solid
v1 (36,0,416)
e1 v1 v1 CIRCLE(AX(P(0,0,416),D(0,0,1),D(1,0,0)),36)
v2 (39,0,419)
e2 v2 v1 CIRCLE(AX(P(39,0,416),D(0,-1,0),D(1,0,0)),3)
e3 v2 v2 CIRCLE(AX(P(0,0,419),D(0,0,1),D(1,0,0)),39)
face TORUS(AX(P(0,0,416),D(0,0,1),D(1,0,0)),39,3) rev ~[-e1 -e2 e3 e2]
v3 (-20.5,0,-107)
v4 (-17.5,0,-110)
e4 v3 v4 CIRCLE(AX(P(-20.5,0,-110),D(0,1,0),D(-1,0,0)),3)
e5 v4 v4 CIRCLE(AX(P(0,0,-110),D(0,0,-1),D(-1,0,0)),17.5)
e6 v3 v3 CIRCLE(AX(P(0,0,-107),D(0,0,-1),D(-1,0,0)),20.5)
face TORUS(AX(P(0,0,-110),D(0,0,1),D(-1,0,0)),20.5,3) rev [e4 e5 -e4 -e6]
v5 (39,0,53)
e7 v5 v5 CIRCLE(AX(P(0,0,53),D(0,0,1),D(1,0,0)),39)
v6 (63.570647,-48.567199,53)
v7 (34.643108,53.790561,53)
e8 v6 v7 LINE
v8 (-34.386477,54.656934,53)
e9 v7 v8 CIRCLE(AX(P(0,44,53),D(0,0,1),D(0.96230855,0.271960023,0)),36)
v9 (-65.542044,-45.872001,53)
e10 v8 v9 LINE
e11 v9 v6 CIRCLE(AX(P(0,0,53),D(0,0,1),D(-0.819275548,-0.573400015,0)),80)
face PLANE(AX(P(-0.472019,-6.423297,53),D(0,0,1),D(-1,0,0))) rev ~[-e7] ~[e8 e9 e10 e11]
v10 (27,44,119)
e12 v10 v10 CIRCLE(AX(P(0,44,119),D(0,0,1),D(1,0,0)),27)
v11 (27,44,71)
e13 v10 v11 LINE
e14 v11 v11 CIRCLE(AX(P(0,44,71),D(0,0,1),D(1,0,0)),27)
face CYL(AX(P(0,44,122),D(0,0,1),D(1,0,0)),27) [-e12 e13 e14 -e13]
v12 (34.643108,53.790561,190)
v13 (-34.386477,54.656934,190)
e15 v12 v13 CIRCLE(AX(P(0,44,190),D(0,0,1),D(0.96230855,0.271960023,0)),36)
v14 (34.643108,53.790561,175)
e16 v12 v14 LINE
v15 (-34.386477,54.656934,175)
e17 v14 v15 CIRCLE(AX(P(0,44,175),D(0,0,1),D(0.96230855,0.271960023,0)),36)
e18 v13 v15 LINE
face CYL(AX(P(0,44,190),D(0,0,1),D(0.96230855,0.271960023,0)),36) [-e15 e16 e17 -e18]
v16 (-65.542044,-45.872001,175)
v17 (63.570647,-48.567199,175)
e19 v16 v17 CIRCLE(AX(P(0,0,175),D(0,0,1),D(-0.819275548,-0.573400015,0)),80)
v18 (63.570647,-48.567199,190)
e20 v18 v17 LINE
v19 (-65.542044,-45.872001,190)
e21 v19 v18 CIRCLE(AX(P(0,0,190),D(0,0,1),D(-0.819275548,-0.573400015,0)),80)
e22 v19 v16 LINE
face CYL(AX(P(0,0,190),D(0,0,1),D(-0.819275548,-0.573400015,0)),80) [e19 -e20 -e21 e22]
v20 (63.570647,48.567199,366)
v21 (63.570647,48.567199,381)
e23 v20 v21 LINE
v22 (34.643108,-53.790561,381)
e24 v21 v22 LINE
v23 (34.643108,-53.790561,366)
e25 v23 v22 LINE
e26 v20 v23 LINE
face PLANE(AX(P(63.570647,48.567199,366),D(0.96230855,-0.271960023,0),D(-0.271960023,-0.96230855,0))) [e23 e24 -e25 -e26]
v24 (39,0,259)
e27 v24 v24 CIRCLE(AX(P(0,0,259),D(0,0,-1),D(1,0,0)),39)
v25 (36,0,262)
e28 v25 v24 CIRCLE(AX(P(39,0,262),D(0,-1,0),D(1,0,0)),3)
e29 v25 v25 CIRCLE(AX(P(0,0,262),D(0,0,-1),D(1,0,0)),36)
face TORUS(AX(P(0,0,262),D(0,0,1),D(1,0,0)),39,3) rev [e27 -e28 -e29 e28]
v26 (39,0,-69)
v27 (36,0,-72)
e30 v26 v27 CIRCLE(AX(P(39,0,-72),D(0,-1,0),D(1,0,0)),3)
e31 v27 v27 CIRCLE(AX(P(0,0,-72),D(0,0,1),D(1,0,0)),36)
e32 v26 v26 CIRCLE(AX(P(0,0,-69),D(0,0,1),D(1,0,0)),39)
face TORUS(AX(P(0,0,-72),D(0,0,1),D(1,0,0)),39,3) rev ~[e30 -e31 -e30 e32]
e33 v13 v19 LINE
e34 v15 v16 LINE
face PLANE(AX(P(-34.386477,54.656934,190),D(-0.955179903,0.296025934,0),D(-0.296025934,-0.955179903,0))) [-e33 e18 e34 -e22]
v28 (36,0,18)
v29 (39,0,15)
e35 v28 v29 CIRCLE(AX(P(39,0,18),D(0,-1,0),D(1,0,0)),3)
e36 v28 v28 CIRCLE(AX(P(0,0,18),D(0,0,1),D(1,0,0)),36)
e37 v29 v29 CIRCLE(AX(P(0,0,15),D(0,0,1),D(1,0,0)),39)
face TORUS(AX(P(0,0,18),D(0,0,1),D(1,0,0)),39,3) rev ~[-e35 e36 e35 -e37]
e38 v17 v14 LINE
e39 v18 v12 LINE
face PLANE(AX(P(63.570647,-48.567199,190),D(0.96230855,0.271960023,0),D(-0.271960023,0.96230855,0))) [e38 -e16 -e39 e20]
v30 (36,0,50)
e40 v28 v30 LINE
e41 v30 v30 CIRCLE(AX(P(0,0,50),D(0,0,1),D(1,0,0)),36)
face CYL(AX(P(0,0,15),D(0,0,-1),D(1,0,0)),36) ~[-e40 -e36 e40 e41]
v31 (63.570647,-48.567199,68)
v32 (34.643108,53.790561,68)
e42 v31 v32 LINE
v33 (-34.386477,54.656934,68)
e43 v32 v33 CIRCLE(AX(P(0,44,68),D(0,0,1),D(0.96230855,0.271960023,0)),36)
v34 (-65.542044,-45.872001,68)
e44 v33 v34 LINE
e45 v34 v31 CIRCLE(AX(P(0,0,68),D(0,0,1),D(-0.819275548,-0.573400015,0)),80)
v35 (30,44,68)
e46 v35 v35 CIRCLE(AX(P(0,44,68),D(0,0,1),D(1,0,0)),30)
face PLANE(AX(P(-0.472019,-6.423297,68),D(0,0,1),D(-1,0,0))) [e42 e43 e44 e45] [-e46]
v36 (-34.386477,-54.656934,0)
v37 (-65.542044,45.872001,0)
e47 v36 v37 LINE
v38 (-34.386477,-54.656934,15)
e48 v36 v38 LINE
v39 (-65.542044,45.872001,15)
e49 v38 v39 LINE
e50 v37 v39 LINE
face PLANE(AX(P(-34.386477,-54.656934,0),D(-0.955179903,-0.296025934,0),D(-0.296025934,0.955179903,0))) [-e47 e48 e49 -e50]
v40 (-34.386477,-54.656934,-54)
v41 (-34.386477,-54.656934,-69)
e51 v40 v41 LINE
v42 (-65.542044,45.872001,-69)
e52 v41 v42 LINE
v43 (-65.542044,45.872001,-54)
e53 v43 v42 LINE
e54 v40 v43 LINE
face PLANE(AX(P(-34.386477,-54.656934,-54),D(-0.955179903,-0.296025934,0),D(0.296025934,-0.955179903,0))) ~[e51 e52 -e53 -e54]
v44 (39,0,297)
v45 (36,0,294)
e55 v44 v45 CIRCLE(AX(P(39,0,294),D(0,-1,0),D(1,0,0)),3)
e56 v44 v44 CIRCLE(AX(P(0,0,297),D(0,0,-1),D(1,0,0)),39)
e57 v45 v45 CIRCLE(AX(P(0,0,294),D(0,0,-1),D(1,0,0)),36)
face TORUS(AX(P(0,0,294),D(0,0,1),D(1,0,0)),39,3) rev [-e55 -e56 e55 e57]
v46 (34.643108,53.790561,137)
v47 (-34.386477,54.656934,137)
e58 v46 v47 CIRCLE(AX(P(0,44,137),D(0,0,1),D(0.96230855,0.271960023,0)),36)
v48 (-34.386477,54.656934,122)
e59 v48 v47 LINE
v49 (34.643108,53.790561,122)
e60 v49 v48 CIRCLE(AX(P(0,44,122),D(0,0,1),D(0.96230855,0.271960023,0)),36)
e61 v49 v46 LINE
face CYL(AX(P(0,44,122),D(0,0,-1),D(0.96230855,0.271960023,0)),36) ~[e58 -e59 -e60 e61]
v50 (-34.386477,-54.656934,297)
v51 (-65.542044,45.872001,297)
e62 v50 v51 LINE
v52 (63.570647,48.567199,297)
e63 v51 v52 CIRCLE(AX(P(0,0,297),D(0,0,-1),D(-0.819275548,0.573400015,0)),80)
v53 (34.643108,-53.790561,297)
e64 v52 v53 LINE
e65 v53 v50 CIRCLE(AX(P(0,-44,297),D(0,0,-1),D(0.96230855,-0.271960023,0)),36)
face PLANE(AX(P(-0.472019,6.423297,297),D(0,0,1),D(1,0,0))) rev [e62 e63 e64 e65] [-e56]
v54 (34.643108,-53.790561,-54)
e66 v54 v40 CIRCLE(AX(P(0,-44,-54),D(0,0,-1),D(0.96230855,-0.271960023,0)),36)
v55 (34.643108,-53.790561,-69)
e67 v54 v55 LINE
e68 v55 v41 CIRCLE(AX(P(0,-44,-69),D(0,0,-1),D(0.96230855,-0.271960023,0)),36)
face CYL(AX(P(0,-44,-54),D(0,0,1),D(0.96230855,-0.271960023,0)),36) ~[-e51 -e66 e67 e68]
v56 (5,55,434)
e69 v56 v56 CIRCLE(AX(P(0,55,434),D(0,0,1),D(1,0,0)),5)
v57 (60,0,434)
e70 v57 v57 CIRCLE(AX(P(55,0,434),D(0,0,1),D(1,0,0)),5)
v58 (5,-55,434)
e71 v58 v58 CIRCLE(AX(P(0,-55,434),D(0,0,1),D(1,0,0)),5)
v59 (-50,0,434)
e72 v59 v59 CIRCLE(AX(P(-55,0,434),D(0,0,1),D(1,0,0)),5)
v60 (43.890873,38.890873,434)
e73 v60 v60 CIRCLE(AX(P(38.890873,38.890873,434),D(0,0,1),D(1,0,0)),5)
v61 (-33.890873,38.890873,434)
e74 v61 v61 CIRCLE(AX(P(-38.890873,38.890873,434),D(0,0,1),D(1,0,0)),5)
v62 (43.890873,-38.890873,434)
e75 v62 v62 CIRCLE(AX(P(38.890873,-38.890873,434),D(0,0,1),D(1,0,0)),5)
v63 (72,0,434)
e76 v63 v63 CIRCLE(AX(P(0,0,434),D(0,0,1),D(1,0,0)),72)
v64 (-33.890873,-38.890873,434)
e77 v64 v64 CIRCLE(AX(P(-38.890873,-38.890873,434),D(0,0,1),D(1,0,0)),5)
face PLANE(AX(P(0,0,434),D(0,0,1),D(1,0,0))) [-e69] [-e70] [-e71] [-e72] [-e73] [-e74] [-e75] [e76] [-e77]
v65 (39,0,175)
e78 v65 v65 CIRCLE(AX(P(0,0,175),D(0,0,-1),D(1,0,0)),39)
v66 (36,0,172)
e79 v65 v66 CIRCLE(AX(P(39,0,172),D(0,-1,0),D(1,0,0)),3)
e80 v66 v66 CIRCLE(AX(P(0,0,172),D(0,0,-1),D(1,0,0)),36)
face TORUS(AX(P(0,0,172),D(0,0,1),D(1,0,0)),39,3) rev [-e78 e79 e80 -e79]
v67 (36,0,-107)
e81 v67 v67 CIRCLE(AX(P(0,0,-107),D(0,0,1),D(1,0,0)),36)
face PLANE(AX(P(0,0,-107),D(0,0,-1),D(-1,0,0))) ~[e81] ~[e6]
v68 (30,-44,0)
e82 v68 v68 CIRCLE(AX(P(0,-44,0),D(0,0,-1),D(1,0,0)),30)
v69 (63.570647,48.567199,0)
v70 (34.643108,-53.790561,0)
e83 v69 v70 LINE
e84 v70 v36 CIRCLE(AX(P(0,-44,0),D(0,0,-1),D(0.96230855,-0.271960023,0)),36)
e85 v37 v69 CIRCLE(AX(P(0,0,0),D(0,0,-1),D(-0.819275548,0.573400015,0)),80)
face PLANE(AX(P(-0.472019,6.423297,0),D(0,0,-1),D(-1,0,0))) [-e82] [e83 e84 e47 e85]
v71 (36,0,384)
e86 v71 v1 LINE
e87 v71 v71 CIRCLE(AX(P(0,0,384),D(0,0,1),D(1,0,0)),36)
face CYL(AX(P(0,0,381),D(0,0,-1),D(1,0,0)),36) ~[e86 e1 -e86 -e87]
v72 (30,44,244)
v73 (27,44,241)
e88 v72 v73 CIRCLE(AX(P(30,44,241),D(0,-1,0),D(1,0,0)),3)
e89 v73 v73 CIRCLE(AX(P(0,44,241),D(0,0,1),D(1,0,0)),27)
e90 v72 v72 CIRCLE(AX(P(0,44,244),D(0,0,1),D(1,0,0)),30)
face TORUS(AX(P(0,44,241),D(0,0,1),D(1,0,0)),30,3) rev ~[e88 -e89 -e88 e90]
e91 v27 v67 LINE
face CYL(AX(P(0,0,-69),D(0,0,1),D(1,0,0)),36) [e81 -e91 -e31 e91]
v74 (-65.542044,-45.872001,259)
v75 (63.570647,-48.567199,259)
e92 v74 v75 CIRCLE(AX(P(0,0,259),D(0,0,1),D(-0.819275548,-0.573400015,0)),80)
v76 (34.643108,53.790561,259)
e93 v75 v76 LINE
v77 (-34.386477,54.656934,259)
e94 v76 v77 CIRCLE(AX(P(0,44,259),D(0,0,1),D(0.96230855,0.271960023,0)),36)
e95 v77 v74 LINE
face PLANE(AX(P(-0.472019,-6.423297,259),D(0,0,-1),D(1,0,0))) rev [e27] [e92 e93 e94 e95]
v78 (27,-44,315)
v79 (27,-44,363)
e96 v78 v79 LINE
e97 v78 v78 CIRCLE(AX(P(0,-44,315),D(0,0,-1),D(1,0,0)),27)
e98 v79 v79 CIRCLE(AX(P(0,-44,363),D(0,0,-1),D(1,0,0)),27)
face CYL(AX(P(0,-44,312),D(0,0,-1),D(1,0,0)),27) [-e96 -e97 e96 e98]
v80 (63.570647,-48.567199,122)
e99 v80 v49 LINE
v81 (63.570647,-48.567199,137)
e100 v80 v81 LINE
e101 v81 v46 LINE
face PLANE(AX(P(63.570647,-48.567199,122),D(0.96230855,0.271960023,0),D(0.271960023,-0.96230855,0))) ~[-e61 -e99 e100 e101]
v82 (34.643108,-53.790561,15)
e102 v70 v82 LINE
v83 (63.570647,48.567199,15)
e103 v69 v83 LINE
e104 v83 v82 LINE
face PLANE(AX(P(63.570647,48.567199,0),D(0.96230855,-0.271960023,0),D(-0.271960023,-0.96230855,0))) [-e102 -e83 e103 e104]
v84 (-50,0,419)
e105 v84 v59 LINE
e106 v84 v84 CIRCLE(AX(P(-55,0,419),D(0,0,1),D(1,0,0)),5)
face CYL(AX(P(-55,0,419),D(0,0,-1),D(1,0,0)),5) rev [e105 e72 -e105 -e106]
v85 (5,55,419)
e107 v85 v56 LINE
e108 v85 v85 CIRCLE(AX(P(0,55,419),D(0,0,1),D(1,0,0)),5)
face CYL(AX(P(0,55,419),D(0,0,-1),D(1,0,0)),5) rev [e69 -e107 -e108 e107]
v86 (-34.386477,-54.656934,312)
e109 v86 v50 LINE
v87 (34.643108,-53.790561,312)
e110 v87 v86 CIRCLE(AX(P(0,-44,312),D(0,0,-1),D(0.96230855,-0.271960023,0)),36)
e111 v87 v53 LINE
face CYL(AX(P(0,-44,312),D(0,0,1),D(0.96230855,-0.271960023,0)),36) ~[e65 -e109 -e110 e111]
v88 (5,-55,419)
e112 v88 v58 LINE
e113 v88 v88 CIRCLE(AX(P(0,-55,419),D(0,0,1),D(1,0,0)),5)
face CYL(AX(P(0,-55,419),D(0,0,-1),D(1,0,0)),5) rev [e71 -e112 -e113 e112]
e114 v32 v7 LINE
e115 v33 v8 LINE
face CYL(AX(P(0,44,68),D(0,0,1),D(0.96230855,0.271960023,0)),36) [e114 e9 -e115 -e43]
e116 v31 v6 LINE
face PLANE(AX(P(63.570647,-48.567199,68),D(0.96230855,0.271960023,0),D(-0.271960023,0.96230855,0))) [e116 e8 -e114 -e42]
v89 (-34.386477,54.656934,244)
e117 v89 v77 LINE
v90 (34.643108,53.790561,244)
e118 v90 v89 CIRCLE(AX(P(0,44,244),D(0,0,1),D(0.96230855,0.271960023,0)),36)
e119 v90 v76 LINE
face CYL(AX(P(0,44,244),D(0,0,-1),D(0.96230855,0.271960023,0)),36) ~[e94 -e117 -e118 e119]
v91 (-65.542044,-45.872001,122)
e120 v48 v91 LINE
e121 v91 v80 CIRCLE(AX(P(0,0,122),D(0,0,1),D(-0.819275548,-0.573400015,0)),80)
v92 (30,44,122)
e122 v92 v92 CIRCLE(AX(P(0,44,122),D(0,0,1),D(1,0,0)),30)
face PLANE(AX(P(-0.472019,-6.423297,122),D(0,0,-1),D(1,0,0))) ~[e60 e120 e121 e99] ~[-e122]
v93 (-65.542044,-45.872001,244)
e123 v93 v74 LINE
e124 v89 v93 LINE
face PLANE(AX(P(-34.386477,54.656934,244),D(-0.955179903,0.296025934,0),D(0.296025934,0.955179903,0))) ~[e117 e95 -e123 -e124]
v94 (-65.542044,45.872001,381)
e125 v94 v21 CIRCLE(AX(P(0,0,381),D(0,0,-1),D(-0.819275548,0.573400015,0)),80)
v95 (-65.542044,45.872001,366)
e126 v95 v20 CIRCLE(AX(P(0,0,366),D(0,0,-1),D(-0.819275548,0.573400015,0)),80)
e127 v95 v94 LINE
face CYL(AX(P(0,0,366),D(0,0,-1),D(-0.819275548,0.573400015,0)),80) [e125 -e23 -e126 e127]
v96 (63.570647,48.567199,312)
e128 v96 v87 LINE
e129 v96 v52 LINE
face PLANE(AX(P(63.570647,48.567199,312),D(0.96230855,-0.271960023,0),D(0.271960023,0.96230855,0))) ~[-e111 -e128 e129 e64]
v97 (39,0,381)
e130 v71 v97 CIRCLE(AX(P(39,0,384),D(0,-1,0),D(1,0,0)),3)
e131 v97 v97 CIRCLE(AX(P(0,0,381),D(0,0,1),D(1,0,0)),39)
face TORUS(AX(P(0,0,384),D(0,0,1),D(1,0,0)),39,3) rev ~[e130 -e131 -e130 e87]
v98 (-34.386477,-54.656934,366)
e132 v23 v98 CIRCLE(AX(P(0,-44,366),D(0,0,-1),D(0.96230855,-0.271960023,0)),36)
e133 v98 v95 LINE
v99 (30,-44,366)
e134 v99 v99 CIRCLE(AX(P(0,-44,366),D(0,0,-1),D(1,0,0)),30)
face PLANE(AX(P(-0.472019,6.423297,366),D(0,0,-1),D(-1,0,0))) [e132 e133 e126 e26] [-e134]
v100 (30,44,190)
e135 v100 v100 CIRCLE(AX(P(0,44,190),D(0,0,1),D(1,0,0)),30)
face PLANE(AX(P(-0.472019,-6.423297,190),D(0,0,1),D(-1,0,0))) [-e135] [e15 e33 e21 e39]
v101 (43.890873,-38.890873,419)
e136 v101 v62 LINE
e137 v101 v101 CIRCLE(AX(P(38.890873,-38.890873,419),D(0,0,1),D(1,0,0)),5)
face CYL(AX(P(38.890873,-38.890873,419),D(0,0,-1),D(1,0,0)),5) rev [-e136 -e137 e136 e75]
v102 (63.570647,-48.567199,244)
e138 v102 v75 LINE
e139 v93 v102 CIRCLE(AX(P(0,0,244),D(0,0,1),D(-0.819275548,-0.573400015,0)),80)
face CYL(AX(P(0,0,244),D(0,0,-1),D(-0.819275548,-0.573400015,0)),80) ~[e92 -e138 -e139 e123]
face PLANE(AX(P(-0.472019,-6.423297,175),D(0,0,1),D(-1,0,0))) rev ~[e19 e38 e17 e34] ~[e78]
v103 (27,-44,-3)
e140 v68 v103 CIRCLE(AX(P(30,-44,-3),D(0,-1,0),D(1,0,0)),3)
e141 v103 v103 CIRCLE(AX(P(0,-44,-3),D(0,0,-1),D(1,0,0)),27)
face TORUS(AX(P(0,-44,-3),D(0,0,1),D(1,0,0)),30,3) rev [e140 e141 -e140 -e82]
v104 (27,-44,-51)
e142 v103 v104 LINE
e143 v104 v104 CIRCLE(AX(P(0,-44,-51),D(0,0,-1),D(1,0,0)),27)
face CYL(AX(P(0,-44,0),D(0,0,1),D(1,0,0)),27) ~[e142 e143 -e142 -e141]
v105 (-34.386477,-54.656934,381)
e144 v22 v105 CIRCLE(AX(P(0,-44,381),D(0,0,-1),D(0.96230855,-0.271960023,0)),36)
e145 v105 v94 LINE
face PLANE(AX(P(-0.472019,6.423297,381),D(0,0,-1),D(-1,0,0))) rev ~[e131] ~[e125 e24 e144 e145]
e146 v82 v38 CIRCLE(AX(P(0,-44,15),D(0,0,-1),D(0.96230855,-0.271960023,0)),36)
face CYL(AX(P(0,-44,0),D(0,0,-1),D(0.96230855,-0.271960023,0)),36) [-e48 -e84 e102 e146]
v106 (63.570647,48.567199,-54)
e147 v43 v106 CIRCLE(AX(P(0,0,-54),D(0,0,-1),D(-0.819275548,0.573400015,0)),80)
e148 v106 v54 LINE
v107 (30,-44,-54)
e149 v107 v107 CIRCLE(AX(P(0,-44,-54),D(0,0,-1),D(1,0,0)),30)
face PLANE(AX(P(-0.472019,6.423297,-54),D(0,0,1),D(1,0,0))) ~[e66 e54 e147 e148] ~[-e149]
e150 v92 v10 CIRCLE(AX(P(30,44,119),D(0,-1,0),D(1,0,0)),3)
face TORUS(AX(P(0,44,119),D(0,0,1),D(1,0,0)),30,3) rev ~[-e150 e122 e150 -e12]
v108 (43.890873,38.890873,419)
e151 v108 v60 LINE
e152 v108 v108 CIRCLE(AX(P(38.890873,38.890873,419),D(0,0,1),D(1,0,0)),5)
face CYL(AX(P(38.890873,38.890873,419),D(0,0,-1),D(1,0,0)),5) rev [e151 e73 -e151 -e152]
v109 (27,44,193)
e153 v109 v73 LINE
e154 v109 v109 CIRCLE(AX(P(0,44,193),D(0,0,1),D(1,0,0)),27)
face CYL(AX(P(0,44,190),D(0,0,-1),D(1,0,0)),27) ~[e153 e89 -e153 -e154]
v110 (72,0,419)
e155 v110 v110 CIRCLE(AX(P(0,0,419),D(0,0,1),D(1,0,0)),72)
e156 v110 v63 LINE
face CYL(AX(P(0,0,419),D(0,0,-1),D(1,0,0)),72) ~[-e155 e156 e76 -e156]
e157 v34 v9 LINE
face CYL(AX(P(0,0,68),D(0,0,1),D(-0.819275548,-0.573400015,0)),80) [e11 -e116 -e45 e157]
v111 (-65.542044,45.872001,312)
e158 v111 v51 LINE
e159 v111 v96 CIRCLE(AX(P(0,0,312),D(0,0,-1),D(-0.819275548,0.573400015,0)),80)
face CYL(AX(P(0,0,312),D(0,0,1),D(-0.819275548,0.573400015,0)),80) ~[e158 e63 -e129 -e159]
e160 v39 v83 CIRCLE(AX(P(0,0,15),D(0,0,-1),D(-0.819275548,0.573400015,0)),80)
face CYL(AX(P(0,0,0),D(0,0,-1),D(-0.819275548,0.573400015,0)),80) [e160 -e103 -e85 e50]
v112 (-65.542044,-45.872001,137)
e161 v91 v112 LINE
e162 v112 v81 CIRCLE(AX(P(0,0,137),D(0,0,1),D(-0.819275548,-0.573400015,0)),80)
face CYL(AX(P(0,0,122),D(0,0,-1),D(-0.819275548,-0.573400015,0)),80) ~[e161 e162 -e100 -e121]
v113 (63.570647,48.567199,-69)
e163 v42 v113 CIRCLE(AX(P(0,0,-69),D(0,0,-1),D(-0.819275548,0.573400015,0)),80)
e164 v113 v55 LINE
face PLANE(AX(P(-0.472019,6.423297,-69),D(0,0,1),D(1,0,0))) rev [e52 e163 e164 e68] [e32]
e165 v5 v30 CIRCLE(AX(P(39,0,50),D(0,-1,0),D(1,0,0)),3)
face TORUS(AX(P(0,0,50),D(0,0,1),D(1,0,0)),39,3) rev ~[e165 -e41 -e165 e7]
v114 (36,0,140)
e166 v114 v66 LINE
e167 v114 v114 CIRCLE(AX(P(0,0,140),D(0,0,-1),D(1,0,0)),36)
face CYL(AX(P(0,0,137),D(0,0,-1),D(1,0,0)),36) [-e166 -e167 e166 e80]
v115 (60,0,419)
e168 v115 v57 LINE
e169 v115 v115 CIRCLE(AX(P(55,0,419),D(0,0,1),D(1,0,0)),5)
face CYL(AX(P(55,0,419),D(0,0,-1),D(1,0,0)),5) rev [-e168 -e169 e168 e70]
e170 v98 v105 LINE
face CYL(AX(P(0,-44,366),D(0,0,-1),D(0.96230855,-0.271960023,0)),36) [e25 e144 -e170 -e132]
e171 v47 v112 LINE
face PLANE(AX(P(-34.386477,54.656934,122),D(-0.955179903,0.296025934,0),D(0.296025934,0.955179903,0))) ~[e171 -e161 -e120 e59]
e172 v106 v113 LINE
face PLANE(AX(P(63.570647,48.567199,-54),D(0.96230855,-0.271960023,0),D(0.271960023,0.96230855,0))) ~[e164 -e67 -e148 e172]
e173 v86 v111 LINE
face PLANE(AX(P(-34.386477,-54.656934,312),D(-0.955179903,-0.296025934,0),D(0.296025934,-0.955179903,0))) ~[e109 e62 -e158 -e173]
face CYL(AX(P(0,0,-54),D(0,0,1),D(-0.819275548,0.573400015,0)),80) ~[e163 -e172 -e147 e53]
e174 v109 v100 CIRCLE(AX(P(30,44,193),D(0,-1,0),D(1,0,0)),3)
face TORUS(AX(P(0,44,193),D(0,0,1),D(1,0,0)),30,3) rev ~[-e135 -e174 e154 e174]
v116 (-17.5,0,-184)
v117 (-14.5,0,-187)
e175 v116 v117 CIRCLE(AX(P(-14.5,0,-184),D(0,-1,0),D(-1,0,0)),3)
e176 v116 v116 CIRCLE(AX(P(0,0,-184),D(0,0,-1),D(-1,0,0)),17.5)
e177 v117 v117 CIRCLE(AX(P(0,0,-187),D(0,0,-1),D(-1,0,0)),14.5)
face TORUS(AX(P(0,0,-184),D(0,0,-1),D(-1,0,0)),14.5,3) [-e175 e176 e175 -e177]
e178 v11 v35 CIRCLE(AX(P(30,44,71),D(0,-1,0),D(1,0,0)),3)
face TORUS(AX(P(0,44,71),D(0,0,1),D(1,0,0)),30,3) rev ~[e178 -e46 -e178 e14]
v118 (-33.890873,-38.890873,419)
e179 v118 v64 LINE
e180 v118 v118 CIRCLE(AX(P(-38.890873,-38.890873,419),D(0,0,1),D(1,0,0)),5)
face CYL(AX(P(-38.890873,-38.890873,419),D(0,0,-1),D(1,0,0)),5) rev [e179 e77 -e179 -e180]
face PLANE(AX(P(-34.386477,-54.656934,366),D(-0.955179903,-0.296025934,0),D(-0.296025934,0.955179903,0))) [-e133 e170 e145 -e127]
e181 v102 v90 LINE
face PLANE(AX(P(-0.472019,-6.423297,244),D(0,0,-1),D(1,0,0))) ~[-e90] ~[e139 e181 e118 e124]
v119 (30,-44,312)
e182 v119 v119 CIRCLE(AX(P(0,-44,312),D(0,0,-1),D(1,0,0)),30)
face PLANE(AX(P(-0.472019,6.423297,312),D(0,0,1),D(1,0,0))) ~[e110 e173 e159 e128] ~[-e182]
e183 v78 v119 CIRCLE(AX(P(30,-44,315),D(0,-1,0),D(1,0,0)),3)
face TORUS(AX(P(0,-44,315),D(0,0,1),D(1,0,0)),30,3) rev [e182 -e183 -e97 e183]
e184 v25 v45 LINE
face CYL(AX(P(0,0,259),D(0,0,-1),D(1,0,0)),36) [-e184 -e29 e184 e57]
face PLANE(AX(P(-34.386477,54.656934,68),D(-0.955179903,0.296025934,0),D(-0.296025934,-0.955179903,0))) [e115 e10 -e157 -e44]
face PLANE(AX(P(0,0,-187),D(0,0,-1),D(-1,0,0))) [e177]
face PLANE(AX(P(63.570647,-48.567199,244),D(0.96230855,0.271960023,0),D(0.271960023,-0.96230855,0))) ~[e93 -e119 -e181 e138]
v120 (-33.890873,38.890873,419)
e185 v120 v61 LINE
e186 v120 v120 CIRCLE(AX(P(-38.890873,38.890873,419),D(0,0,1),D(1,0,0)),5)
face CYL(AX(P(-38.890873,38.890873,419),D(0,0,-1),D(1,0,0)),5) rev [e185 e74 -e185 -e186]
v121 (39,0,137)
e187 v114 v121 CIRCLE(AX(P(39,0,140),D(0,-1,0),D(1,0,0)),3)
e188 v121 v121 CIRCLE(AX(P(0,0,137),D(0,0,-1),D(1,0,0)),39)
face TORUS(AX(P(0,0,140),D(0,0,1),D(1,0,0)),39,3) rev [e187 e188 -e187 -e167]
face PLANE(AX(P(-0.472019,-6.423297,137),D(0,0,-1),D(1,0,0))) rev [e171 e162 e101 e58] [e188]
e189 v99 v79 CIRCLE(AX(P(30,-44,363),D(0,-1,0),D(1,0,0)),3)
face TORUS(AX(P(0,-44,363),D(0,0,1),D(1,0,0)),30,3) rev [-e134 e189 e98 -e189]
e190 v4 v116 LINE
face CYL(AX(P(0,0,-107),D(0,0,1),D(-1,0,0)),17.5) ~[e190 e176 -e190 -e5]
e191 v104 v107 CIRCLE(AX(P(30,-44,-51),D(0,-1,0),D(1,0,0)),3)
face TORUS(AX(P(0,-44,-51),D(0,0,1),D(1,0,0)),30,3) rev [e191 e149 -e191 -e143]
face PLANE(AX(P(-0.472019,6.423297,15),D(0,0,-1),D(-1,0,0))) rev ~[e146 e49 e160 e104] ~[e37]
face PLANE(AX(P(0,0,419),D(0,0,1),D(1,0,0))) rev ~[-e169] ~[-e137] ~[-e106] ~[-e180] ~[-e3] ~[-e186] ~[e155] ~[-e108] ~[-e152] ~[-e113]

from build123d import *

# Parameters (mm, degrees)
Y_KSEKLIK_EKSTR_ZYON1_DEPTH = 15
IZIM2_R                     = 27
Y_KSEKLIK_EKSTR_ZYON2_DEPTH = 54
IZIM3_R                     = 36
Y_KSEKLIK_EKSTR_ZYON3_DEPTH = 38
G_VDE_TA_KOPYALA1_ANGLE     = 180
IZIM4_R                     = 17.5
Y_KSEKLIK_EKSTR_ZYON4_DEPTH = 80
IZIM5_R                     = 72
IZIM5_R_2                   = 5
Y_KSEKLIK_EKSTR_ZYON5_DEPTH = 15
RADYUS1_R                   = 3


with BuildPart() as part:
    # Çizim1 → Yükseklik-Ekstrüzyon1 (new body)
    with BuildSketch(Plane.XY):
        with BuildLine():
            Line((-34.3864765, -54.656933609), (-65.542043825, 45.872001169))
            ThreePointArc((-65.542043825, 45.872001169), (-1.669617793, 79.982575455), (63.570647333, 48.567198783))
            Line((63.570647333, 48.567198783), (34.643107812, -53.790560816))
            ThreePointArc((34.643107812, -53.790560816), (0.451791281, -79.997164953), (-34.3864765, -54.656933609))
        make_face()
    y_kseklik_ekstr_zyon1 = extrude(amount=Y_KSEKLIK_EKSTR_ZYON1_DEPTH)

    # Çizim2 → Yükseklik-Ekstrüzyon2 (add)
    with BuildSketch(Plane(origin=(0, 0, 0), x_dir=(-1, 0, 0), z_dir=(0, 0, -1))):
        with Locations((0, -44)):
            Circle(IZIM2_R)
    extrude(amount=Y_KSEKLIK_EKSTR_ZYON2_DEPTH)

    # Çizim3 → Yükseklik-Ekstrüzyon3 (add)
    with BuildSketch(Plane.XY.offset(15)):
        Circle(IZIM3_R)
    y_kseklik_ekstr_zyon3 = extrude(amount=Y_KSEKLIK_EKSTR_ZYON3_DEPTH)

    # Aynalama1: Yükseklik-Ekstrüzyon1, Yükseklik-Ekstrüzyon3 across plane
    add(y_kseklik_ekstr_zyon1.mirror(Plane(origin=(0, 0, -27), x_dir=(1, 0, 0), z_dir=(0, 0, -1))))
    add(y_kseklik_ekstr_zyon3.mirror(Plane(origin=(0, 0, -27), x_dir=(1, 0, 0), z_dir=(0, 0, -1))))


with BuildPart() as body_2:
    # Aynalama4: mirrored copy
    add(part.part.mirror(Plane.XY.offset(34)))


with BuildPart() as body_2_1:
    # Gövde-Taşı/Kopyala1: moved
    add(body_2.part.rotate(Axis((0, 0, 95), (1, 0, 0)), G_VDE_TA_KOPYALA1_ANGLE))


with BuildPart() as body_3:
    # Aynalama5: mirrored copy
    add(part.part.mirror(Plane.XY.offset(156)))

    # Çizim5 → Yükseklik-Ekstrüzyon5 (add)
    with BuildSketch(Plane.XY.offset(419)):
        Circle(IZIM5_R)
        with Locations((0, 55)):
            Circle(IZIM5_R_2, mode=Mode.SUBTRACT)
        with Locations((38.890872965, 38.890872965)):
            Circle(IZIM5_R_2, mode=Mode.SUBTRACT)
        with Locations((55, 0)):
            Circle(IZIM5_R_2, mode=Mode.SUBTRACT)
        with Locations((38.890872965, -38.890872965)):
            Circle(IZIM5_R_2, mode=Mode.SUBTRACT)
        with Locations((0, -55)):
            Circle(IZIM5_R_2, mode=Mode.SUBTRACT)
        with Locations((-38.890872965, -38.890872965)):
            Circle(IZIM5_R_2, mode=Mode.SUBTRACT)
        with Locations((-55, 0)):
            Circle(IZIM5_R_2, mode=Mode.SUBTRACT)
        with Locations((-38.890872965, 38.890872965)):
            Circle(IZIM5_R_2, mode=Mode.SUBTRACT)
    extrude(amount=Y_KSEKLIK_EKSTR_ZYON5_DEPTH)


with BuildPart() as body_4:
    # Aynalama5 2: mirrored copy
    add(body_2_1.part.mirror(Plane.XY.offset(156)))


with BuildPart() as part_1:
    add(part.part)

    # Çizim4 → Yükseklik-Ekstrüzyon4 (add)
    with BuildSketch(Plane(origin=(0, 0, -107), x_dir=(-1, 0, 0), z_dir=(0, 0, -1))):
        Circle(IZIM4_R)
    extrude(amount=Y_KSEKLIK_EKSTR_ZYON4_DEPTH)

    # Birleştir1: union body 2, body 4, body 3
    add(body_2_1.part)
    add(body_4.part)
    add(body_3.part)

    # Radyus1
    radyus1_edges = [part_1.edges().sort_by_distance(p)[0] for p in [
        (-36, 0, 381),
        (-36, 0, 419),
        (27, -44, 366),
        (27, -44, 312),
        (-36, 0, 297),
        (-36, 0, 259),
        (27, 44, 244),
        (27, 44, 190),
        (-36, 0, 175),
        (27, 44, 68),
        (27, 44, 122),
        (-36, 0, 137),
        (-36, 0, -69),
        (-36, 0, 53),
        (27, -44, -54),
        (27, -44, 0),
        (-36, 0, 15),
        (17.5, 0, -107),
        (17.5, 0, -187),
    ]]
    fillet(radyus1_edges, radius=RADYUS1_R)


solid = part_1.part
